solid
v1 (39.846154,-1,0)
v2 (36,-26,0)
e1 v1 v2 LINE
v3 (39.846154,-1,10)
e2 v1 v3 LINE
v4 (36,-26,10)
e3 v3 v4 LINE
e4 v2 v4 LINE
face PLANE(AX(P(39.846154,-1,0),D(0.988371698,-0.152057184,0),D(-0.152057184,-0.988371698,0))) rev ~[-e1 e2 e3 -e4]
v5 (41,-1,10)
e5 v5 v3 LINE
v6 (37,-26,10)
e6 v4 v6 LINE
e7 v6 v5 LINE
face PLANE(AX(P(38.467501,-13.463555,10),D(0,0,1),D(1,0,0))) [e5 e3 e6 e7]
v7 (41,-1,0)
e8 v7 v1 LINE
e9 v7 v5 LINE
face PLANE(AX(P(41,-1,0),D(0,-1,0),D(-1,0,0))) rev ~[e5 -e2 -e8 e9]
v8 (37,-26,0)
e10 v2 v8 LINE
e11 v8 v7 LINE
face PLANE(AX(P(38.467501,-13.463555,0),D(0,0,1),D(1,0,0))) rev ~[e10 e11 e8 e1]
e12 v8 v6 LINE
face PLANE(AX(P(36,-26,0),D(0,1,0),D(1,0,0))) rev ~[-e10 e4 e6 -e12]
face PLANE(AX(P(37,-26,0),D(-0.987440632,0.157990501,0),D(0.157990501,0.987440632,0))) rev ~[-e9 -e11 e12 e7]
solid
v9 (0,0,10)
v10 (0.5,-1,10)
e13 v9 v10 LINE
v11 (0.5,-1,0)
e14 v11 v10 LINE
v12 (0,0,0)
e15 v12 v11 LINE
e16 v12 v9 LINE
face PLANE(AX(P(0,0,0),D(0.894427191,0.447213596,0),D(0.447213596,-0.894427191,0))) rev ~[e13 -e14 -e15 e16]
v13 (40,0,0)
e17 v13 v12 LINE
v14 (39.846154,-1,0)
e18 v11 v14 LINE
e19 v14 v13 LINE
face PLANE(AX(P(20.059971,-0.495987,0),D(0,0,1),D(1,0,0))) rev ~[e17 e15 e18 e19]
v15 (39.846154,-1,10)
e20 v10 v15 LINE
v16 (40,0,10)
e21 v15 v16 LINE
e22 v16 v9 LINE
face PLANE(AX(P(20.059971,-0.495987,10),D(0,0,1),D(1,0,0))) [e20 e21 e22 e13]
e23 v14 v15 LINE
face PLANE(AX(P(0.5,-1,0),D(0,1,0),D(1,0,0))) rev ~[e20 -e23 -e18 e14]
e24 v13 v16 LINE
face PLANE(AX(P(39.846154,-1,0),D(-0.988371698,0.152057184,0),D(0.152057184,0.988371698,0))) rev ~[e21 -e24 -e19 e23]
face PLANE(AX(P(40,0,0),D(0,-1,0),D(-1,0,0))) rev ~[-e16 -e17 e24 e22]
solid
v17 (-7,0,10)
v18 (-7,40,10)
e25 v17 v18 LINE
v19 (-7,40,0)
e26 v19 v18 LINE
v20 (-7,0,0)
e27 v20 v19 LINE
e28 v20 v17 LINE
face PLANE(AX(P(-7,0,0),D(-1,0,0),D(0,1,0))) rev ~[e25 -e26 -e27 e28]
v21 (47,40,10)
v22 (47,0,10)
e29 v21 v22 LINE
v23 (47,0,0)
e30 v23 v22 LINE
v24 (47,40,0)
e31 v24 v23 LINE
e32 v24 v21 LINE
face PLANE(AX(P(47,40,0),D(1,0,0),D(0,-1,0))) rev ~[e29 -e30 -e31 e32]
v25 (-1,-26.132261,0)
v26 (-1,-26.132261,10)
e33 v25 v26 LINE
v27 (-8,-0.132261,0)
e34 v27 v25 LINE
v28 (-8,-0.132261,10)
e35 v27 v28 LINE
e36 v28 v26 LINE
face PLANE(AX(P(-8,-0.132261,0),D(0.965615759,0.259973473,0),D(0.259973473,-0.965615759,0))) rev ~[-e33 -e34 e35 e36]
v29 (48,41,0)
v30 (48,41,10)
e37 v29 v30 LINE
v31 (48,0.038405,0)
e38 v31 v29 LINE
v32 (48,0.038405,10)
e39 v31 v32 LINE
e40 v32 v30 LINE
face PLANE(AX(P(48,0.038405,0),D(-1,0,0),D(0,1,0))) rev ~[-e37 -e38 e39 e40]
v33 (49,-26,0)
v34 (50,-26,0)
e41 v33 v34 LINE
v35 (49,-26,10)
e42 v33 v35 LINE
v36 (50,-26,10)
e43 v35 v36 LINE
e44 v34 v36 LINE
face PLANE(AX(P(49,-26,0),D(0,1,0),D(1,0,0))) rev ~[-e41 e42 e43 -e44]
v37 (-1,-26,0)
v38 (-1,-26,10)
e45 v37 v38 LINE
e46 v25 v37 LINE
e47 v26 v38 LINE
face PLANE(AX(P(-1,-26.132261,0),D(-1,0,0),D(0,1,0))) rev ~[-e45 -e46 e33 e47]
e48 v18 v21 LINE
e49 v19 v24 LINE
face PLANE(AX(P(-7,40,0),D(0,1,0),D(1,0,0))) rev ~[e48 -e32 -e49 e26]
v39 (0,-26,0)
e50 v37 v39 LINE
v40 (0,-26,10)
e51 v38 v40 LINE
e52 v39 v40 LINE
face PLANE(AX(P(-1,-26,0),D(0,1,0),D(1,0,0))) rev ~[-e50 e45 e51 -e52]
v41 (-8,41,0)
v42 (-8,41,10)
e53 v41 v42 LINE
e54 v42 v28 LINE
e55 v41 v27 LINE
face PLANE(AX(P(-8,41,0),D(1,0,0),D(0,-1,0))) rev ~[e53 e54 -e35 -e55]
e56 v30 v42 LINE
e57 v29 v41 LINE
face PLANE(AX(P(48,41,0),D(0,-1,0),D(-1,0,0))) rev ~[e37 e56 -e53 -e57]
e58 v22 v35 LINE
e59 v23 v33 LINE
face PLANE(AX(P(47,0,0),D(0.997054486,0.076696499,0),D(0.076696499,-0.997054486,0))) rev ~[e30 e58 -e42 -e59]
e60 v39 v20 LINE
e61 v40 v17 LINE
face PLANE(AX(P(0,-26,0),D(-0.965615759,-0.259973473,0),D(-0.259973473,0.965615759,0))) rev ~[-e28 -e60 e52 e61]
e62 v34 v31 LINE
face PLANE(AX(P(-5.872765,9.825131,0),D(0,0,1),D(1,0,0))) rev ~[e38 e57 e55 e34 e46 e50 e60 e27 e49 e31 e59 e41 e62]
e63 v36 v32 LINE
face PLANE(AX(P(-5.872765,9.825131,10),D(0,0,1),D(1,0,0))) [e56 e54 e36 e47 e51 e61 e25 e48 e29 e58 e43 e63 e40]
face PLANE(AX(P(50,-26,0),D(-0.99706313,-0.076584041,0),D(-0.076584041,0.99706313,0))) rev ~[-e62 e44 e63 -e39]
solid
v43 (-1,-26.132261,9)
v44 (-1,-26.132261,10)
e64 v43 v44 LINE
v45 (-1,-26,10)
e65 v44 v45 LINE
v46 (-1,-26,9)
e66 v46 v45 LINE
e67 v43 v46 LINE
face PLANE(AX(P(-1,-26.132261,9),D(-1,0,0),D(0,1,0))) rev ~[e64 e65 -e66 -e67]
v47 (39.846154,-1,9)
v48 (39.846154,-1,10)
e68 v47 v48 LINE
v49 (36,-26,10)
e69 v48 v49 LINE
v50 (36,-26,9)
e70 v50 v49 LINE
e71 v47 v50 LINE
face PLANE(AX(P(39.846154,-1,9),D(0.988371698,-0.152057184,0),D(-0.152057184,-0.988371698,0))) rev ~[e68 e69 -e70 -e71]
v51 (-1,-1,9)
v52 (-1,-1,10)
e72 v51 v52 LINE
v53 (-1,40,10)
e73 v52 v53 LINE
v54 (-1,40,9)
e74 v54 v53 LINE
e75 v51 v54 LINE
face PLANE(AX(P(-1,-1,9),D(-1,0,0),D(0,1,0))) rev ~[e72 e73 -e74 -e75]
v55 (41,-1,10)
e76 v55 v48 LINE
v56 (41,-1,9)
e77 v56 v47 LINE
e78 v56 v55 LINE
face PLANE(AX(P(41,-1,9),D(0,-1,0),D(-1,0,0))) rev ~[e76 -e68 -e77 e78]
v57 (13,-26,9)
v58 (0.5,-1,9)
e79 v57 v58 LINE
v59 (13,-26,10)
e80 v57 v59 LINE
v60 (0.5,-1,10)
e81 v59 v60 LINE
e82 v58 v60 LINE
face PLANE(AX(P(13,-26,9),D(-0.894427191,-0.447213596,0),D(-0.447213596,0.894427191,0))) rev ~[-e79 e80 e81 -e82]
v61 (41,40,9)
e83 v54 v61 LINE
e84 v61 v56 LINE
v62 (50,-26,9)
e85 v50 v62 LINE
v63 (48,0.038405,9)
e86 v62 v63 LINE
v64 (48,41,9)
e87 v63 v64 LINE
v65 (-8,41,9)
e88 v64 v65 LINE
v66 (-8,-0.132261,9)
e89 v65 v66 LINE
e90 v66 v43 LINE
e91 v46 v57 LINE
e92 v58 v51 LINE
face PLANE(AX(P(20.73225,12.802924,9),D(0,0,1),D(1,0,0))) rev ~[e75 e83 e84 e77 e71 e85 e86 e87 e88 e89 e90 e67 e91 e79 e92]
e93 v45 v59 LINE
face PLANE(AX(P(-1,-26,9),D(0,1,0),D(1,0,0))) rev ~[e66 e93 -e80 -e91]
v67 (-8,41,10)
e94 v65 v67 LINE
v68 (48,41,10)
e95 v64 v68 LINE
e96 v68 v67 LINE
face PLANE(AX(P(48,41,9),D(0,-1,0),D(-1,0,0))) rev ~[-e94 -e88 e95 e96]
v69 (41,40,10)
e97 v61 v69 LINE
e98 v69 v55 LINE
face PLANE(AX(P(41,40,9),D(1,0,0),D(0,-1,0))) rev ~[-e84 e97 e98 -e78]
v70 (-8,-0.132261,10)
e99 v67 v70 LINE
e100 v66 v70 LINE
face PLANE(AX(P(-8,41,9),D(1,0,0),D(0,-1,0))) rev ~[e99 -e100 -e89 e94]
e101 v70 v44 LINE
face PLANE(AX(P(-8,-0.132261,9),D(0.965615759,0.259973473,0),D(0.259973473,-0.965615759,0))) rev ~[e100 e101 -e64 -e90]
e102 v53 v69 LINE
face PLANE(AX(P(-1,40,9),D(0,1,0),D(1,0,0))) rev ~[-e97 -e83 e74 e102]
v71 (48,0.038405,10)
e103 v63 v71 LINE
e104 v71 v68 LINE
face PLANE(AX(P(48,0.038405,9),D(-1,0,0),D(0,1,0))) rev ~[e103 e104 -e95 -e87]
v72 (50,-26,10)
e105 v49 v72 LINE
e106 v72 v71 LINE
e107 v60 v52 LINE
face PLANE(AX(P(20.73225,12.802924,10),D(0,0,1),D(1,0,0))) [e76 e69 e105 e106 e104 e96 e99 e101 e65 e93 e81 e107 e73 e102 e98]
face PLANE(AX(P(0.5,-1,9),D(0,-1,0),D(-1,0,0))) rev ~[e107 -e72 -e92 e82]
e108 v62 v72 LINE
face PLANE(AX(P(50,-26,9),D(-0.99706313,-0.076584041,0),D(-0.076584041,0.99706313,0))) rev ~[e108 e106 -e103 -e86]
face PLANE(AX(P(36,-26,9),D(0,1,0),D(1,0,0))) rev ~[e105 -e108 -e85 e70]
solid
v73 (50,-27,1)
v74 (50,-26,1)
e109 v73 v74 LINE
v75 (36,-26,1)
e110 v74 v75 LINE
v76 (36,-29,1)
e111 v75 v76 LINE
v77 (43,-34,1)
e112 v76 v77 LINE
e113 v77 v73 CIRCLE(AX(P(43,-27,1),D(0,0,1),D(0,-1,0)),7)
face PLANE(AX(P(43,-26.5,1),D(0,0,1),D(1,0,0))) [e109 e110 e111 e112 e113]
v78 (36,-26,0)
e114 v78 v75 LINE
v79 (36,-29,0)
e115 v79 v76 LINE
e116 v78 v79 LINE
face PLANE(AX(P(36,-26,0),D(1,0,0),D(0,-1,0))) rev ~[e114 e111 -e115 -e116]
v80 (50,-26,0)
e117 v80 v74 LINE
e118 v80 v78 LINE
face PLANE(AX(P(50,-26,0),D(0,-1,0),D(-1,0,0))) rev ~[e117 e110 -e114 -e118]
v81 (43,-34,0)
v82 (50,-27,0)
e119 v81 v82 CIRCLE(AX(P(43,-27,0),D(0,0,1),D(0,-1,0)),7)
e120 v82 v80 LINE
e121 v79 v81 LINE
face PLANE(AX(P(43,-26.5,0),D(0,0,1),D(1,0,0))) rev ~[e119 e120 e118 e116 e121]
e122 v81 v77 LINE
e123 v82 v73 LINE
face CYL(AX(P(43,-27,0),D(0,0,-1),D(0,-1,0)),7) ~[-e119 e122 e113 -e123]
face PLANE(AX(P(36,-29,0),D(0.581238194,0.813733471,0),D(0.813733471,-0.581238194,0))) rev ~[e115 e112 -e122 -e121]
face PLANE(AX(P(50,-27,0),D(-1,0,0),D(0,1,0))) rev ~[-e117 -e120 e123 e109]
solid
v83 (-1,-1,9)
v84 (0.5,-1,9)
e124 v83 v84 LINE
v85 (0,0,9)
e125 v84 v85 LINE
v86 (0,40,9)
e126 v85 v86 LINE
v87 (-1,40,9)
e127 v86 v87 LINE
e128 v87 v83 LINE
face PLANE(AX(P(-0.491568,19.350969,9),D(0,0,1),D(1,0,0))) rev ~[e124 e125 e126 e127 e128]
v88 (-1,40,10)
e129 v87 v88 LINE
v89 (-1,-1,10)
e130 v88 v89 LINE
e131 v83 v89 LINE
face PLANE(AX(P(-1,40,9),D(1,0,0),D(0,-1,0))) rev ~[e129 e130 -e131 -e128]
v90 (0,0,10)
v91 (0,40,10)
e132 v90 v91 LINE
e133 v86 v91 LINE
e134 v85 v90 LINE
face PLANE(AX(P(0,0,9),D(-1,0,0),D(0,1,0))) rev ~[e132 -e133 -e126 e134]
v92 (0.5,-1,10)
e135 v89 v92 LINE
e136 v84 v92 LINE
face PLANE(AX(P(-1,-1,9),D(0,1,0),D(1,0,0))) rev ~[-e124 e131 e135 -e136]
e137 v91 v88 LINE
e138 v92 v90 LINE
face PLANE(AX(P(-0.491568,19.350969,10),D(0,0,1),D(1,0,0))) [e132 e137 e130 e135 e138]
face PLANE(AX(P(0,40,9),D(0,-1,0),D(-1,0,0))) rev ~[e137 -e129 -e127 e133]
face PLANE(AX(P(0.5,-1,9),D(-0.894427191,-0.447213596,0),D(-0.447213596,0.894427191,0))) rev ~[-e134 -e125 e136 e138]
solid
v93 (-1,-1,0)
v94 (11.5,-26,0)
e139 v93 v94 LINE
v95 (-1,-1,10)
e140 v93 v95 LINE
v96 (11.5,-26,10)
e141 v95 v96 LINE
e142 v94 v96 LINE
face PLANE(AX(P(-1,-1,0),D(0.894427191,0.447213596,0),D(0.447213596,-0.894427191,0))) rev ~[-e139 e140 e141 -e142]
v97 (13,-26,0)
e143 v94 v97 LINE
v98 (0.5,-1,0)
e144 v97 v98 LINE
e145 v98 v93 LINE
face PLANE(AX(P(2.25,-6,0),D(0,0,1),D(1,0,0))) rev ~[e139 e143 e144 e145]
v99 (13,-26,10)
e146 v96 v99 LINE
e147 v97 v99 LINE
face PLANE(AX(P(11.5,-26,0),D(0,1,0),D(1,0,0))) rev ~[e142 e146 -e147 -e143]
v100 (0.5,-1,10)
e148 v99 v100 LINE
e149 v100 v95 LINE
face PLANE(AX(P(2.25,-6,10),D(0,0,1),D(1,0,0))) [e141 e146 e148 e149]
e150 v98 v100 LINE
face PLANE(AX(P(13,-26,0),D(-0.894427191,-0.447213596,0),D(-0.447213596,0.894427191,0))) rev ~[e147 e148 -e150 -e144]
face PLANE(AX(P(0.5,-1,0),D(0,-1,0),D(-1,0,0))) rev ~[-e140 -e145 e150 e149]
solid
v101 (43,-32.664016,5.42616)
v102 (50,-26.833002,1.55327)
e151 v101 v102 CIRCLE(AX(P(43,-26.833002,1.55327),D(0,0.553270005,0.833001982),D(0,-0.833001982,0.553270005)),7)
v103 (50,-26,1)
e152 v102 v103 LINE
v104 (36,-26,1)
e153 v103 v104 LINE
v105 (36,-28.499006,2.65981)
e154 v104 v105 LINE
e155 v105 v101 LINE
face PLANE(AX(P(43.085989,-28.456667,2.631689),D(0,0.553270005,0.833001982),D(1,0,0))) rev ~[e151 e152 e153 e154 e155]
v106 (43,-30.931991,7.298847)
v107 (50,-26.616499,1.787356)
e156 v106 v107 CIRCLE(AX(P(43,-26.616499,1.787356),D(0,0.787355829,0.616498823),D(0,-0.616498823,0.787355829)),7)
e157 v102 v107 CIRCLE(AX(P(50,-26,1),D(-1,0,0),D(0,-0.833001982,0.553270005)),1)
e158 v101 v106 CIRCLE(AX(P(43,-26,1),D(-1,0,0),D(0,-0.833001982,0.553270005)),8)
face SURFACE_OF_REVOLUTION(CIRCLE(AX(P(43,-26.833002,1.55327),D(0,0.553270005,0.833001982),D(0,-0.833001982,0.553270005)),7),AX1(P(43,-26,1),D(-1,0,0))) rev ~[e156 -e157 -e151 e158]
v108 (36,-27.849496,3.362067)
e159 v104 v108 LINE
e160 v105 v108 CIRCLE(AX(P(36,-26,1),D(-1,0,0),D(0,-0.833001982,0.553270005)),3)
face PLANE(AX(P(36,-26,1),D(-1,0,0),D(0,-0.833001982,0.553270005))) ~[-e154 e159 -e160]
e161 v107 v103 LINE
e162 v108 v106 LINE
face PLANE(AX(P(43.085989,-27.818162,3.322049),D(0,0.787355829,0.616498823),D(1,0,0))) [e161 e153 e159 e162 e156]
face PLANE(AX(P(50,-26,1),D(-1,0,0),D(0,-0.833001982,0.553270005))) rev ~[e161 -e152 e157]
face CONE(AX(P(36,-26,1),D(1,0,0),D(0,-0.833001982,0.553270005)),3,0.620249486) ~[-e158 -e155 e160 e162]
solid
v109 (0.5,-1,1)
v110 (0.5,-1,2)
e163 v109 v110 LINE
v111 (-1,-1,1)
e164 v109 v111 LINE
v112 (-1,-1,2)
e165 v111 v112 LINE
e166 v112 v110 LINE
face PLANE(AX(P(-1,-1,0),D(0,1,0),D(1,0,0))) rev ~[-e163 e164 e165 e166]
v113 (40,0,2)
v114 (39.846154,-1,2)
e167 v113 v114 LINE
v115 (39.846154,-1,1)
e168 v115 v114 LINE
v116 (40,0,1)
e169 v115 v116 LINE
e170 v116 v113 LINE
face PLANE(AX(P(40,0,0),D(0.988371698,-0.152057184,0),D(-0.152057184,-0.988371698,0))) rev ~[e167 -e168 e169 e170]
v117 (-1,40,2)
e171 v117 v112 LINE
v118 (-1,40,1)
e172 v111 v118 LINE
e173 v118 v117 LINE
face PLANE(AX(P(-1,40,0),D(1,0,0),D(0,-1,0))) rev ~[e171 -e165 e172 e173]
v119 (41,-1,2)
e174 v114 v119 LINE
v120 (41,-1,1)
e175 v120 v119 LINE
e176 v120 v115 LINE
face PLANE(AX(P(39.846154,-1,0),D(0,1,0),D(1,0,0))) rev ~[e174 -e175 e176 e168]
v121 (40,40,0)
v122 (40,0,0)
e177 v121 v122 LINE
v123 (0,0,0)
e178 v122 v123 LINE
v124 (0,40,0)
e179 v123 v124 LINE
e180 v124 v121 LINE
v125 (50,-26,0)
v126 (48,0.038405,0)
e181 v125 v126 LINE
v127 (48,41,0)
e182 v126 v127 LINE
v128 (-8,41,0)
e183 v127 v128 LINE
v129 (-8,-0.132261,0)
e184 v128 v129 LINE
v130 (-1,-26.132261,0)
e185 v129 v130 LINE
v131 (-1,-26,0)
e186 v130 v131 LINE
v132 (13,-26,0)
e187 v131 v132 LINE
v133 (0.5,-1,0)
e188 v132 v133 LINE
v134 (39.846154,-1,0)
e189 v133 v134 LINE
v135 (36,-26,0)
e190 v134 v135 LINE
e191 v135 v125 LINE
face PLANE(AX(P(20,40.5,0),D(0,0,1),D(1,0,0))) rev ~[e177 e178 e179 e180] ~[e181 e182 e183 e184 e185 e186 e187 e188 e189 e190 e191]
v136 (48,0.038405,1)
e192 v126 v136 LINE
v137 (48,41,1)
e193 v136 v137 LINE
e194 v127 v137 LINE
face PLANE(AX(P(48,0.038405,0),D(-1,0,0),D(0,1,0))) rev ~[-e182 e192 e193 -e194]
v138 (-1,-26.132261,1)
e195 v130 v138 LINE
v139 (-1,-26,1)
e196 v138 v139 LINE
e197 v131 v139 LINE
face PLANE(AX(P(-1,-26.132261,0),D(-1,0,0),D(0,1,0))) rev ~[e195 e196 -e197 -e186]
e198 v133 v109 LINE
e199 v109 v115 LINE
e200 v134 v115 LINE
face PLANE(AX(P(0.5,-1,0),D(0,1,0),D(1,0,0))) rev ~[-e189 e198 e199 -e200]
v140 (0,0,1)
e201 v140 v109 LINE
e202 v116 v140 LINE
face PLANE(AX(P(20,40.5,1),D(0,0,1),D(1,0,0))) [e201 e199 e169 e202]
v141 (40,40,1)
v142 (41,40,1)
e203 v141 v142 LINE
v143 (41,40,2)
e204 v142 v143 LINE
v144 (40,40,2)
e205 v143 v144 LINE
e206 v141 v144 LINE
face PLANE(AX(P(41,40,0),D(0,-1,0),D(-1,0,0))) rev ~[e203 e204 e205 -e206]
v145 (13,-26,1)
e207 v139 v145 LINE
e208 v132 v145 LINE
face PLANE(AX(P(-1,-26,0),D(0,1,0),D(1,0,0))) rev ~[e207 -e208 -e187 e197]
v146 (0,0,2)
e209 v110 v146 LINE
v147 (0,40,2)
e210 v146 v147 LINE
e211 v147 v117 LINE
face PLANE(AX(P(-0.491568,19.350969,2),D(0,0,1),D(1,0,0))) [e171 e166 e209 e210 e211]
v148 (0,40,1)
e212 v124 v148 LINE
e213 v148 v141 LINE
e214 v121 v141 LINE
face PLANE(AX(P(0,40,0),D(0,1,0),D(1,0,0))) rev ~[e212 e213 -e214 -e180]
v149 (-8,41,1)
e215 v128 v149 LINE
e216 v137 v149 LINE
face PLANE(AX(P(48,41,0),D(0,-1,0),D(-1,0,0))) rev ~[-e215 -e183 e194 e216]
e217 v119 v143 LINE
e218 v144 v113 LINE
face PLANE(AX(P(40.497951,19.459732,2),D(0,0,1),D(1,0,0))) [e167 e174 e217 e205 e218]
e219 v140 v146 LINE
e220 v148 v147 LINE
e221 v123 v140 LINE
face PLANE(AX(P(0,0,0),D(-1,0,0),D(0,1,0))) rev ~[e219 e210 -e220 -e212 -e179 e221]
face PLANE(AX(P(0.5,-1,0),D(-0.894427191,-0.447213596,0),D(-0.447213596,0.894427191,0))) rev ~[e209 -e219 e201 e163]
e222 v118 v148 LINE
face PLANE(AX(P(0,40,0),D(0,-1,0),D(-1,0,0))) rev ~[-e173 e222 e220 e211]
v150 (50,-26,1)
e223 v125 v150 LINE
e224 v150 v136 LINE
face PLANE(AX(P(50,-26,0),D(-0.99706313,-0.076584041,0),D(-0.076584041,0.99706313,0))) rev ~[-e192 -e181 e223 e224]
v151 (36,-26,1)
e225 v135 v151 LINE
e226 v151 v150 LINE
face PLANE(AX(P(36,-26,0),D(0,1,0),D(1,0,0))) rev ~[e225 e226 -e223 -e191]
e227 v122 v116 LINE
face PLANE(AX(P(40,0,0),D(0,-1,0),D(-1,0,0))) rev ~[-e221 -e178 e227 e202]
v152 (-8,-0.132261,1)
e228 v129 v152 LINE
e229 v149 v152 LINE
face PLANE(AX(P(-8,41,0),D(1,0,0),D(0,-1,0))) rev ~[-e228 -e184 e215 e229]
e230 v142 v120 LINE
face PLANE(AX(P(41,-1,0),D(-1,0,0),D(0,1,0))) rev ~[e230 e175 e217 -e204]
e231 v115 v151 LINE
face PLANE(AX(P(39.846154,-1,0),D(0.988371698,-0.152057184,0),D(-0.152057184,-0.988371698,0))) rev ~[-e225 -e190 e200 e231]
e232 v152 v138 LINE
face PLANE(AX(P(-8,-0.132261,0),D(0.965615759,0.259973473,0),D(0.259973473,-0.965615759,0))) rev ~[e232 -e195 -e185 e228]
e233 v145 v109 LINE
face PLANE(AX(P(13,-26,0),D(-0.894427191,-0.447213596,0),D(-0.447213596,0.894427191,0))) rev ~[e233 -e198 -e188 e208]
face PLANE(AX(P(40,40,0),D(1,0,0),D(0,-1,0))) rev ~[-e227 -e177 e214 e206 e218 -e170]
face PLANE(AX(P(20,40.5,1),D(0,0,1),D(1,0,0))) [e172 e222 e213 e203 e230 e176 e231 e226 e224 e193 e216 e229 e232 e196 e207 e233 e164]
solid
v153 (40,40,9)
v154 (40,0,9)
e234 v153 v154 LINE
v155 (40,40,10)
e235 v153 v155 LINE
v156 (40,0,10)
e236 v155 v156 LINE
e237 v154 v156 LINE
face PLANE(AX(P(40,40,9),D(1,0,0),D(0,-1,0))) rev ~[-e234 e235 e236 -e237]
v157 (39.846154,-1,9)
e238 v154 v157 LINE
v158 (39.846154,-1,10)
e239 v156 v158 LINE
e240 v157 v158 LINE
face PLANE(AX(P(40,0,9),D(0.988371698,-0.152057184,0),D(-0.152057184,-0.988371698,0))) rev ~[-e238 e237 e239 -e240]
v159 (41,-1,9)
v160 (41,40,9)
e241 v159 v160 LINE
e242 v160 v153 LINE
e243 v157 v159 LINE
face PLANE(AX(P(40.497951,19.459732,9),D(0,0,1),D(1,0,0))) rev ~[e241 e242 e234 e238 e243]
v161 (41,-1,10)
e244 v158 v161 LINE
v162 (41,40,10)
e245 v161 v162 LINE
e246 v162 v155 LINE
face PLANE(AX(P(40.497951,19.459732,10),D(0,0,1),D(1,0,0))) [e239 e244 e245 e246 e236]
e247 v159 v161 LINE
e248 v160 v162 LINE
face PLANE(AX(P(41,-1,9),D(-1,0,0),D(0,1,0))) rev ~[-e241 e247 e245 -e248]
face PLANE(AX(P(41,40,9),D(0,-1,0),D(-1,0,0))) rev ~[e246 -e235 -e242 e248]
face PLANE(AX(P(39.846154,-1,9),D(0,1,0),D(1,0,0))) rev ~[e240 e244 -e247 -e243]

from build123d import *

# Parameters (mm, degrees)
F1_DEPTH       = 1
F2_DEPTH       = 2
F3_DEPTH       = 10
F4_START       = 7
F4_DEPTH       = 1
F5_START       = 8
F5_DEPTH       = 1
F0_W           = 12
F0_H           = 1
F0_W_2         = 1
F6_DEPTH       = 1
F7_ANGLE_START = 33.5916394761
F7_ANGLE       = 18.3474521861


with BuildPart() as f1:
    # F0 (on Top) → F1 (new body)
    with BuildSketch(Plane.XY):
        Polygon((-1, 40), (0, 40), (40, 40), (41, 40), (41, 41), (40, 41), (0, 41), (-1, 41), align=None)
        Polygon((0.5, -1), (0, 0), (0, 40), (-1, 40), (-1, -1), align=None)
        Polygon((-7, 40), (-1, 40), (-1, 41), (-8, 41), (-8, -0.1322605765), (-1, -26.1322605765), (-1, -26), (0, -26), (-7, 0), align=None)
        Polygon((-1, -1), (-1, 40), (-7, 40), (-7, 0), (0, -26), (11.5, -26), (4, -11), align=None)
        Polygon((47, 40), (41, 40), (41, -1), (37, -26), (49, -26), (47, 0), align=None)
        Polygon((40, 40), (40, 0), (39.8461538462, -1), (41, -1), (41, 40), align=None)
        Polygon((41, 41), (41, 40), (47, 40), (47, 0), (49, -26), (50, -26), (48, 0.0384048104), (48, 41), align=None)
        Polygon((40, 0), (0, 0), (0.5, -1), (39.8461538462, -1), align=None)
        Polygon((41, -1), (39.8461538462, -1), (36, -26), (37, -26), align=None)
        Polygon((5.5, -11), (0.5, -1), (-1, -1), (4, -11), align=None)
        Polygon((13, -26), (5.5, -11), (4, -11), (11.5, -26), (12, -26), align=None)
    extrude(amount=F1_DEPTH)

    # F0 (on Top) → F2 (join)
    with BuildSketch(Plane.XY):
        Polygon((0.5, -1), (0, 0), (0, 40), (-1, 40), (-1, -1), align=None)
        Polygon((40, 40), (40, 0), (39.8461538462, -1), (41, -1), (41, 40), align=None)
    extrude(amount=F2_DEPTH)


with BuildPart() as f3:
    # F0 (on Top) → F3 (new body)
    with BuildSketch(Plane.XY):
        Polygon((-7, 40), (-1, 40), (-1, 41), (-8, 41), (-8, -0.1322605765), (-1, -26.1322605765), (-1, -26), (0, -26), (-7, 0), align=None)
        Polygon((-1, 40), (0, 40), (40, 40), (41, 40), (41, 41), (40, 41), (0, 41), (-1, 41), align=None)
        Polygon((41, 41), (41, 40), (47, 40), (47, 0), (49, -26), (50, -26), (48, 0.0384048104), (48, 41), align=None)
    extrude(amount=F3_DEPTH)


with BuildPart() as f3b:
    # F0 (on Top) → F3, piece 2 (new body)
    with BuildSketch(Plane.XY):
        Polygon((40, 0), (0, 0), (0.5, -1), (39.8461538462, -1), align=None)
    extrude(amount=F3_DEPTH)


with BuildPart() as f3c:
    # F0 (on Top) → F3, piece 3 (new body)
    with BuildSketch(Plane.XY):
        Polygon((5.5, -11), (0.5, -1), (-1, -1), (4, -11), align=None)
        Polygon((13, -26), (5.5, -11), (4, -11), (11.5, -26), (12, -26), align=None)
    extrude(amount=F3_DEPTH)


with BuildPart() as f3d:
    # F0 (on Top) → F3, piece 4 (new body)
    with BuildSketch(Plane.XY):
        Polygon((41, -1), (39.8461538462, -1), (36, -26), (37, -26), align=None)
    extrude(amount=F3_DEPTH)


with BuildPart() as f4:
    # F2_face (on face) → F4 (new body)
    with BuildSketch(Plane(origin=(-0.495959596, 19.3777777778, 2), x_dir=(1, 0, 0), z_dir=(0, 0, 1)).offset(F4_START)):
        Polygon((0.995959596, -20.3777777778), (0.495959596, -19.3777777778), (0.495959596, 20.6222222222), (-0.504040404, 20.6222222222), (-0.504040404, -20.3777777778), align=None)
    extrude(amount=F4_DEPTH)


with BuildPart() as f4b:
    # F2_face (on face) → F4, piece 2 (new body)
    with BuildSketch(Plane(origin=(-0.495959596, 19.3777777778, 2), x_dir=(1, 0, 0), z_dir=(0, 0, 1)).offset(F4_START)):
        Polygon((40.495959596, 20.6222222222), (40.495959596, -19.3777777778), (40.3421134421, -20.3777777778), (41.495959596, -20.3777777778), (41.495959596, 20.6222222222), align=None)
    extrude(amount=F4_DEPTH)


with BuildPart() as f5:
    # F2_face1 (on face) → F5 (new body)
    with BuildSketch(Plane(origin=(21.1678733332, 4.5041468317, 1), x_dir=(1, 0, 0), z_dir=(0, 0, 1)).offset(F5_START)):
        Polygon((-22.1678733332, 35.4958531683), (-21.1678733332, 35.4958531683), (18.8321266668, 35.4958531683), (19.8321266668, 35.4958531683), (19.8321266668, -5.5041468317), (18.678280513, -5.5041468317), (14.8321266668, -30.5041468317), (28.8321266668, -30.5041468317), (26.8321266668, -4.4657420213), (26.8321266668, 36.4958531683), (-29.1678733332, 36.4958531683), (-29.1678733332, -4.6364074083), (-22.1678733332, -30.6364074083), (-22.1678733332, -30.5041468317), (-8.1678733332, -30.5041468317), (-20.6678733332, -5.5041468317), (-22.1678733332, -5.5041468317), align=None)
    extrude(amount=F5_DEPTH)


with BuildPart() as f6:
    # F0 (on Top) → F6 (new body)
    with BuildSketch(Plane.XY):
        with Locations((43, -26.5)):
            Rectangle(F0_W, F0_H)
        with Locations((36.5, -26.5)):
            Rectangle(F0_W_2, F0_H)
        Polygon((37, -27), (36, -27), (36, -29), (37, -28.4853821047), align=None)
        with Locations((49.5, -26.5)):
            Rectangle(F0_W_2, F0_H)
        with BuildLine():
            Line((49, -27), (37, -27))
            Line((37, -27), (37, -28.4853821047))
            Line((37, -28.4853821047), (43.3092967715, -32.9920226558))
            ThreePointArc((43.3092967715, -32.9920226558), (47.3506195323, -31.131840956), (49, -27))
        make_face()
        with BuildLine():
            Line((50, -27), (49, -27))
            ThreePointArc((49, -27), (47.3506195323, -31.131840956), (43.3092967715, -32.9920226558))
            Line((43.3092967715, -32.9920226558), (43, -34))
            ThreePointArc((43, -34), (47.9497474683, -31.9497474683), (50, -27))
        make_face()
        Polygon((37, -28.4853821047), (36, -29), (43, -34), (43.3092967715, -32.9920226558), align=None)
    extrude(amount=F6_DEPTH)


with BuildPart() as f7:
    # F6_face (on face) → F7 (revolve)
    with BuildSketch(Plane(origin=(43.2917204613, -29.2087406355, 1), x_dir=(1, 0, 0), z_dir=(0, 0, 1)), mode=Mode.PRIVATE) as f7_sk:
        with BuildLine():
            Line((-7.2917204613, 3.2087406355), (-7.2917204613, 0.2087406355))
            Line((-7.2917204613, 0.2087406355), (-0.2917204613, -4.7912593645))
            ThreePointArc((-0.2917204613, -4.7912593645), (4.658027007, -2.7410068329), (6.7082795387, 2.2087406355))
            Line((6.7082795387, 2.2087406355), (6.7082795387, 3.2087406355))
            Line((6.7082795387, 3.2087406355), (-7.2917204613, 3.2087406355))
        make_face()
    revolve(f7_sk.sketch.rotate(Axis((43, -26, 1), (-1, 0, 0)), F7_ANGLE_START), axis=Axis((43, -26, 1), (-1, 0, 0)), revolution_arc=F7_ANGLE)


solid = Compound([f1.part, f3.part, f3b.part, f3c.part, f3d.part, f4.part, f4b.part, f5.part, f6.part, f7.part])
